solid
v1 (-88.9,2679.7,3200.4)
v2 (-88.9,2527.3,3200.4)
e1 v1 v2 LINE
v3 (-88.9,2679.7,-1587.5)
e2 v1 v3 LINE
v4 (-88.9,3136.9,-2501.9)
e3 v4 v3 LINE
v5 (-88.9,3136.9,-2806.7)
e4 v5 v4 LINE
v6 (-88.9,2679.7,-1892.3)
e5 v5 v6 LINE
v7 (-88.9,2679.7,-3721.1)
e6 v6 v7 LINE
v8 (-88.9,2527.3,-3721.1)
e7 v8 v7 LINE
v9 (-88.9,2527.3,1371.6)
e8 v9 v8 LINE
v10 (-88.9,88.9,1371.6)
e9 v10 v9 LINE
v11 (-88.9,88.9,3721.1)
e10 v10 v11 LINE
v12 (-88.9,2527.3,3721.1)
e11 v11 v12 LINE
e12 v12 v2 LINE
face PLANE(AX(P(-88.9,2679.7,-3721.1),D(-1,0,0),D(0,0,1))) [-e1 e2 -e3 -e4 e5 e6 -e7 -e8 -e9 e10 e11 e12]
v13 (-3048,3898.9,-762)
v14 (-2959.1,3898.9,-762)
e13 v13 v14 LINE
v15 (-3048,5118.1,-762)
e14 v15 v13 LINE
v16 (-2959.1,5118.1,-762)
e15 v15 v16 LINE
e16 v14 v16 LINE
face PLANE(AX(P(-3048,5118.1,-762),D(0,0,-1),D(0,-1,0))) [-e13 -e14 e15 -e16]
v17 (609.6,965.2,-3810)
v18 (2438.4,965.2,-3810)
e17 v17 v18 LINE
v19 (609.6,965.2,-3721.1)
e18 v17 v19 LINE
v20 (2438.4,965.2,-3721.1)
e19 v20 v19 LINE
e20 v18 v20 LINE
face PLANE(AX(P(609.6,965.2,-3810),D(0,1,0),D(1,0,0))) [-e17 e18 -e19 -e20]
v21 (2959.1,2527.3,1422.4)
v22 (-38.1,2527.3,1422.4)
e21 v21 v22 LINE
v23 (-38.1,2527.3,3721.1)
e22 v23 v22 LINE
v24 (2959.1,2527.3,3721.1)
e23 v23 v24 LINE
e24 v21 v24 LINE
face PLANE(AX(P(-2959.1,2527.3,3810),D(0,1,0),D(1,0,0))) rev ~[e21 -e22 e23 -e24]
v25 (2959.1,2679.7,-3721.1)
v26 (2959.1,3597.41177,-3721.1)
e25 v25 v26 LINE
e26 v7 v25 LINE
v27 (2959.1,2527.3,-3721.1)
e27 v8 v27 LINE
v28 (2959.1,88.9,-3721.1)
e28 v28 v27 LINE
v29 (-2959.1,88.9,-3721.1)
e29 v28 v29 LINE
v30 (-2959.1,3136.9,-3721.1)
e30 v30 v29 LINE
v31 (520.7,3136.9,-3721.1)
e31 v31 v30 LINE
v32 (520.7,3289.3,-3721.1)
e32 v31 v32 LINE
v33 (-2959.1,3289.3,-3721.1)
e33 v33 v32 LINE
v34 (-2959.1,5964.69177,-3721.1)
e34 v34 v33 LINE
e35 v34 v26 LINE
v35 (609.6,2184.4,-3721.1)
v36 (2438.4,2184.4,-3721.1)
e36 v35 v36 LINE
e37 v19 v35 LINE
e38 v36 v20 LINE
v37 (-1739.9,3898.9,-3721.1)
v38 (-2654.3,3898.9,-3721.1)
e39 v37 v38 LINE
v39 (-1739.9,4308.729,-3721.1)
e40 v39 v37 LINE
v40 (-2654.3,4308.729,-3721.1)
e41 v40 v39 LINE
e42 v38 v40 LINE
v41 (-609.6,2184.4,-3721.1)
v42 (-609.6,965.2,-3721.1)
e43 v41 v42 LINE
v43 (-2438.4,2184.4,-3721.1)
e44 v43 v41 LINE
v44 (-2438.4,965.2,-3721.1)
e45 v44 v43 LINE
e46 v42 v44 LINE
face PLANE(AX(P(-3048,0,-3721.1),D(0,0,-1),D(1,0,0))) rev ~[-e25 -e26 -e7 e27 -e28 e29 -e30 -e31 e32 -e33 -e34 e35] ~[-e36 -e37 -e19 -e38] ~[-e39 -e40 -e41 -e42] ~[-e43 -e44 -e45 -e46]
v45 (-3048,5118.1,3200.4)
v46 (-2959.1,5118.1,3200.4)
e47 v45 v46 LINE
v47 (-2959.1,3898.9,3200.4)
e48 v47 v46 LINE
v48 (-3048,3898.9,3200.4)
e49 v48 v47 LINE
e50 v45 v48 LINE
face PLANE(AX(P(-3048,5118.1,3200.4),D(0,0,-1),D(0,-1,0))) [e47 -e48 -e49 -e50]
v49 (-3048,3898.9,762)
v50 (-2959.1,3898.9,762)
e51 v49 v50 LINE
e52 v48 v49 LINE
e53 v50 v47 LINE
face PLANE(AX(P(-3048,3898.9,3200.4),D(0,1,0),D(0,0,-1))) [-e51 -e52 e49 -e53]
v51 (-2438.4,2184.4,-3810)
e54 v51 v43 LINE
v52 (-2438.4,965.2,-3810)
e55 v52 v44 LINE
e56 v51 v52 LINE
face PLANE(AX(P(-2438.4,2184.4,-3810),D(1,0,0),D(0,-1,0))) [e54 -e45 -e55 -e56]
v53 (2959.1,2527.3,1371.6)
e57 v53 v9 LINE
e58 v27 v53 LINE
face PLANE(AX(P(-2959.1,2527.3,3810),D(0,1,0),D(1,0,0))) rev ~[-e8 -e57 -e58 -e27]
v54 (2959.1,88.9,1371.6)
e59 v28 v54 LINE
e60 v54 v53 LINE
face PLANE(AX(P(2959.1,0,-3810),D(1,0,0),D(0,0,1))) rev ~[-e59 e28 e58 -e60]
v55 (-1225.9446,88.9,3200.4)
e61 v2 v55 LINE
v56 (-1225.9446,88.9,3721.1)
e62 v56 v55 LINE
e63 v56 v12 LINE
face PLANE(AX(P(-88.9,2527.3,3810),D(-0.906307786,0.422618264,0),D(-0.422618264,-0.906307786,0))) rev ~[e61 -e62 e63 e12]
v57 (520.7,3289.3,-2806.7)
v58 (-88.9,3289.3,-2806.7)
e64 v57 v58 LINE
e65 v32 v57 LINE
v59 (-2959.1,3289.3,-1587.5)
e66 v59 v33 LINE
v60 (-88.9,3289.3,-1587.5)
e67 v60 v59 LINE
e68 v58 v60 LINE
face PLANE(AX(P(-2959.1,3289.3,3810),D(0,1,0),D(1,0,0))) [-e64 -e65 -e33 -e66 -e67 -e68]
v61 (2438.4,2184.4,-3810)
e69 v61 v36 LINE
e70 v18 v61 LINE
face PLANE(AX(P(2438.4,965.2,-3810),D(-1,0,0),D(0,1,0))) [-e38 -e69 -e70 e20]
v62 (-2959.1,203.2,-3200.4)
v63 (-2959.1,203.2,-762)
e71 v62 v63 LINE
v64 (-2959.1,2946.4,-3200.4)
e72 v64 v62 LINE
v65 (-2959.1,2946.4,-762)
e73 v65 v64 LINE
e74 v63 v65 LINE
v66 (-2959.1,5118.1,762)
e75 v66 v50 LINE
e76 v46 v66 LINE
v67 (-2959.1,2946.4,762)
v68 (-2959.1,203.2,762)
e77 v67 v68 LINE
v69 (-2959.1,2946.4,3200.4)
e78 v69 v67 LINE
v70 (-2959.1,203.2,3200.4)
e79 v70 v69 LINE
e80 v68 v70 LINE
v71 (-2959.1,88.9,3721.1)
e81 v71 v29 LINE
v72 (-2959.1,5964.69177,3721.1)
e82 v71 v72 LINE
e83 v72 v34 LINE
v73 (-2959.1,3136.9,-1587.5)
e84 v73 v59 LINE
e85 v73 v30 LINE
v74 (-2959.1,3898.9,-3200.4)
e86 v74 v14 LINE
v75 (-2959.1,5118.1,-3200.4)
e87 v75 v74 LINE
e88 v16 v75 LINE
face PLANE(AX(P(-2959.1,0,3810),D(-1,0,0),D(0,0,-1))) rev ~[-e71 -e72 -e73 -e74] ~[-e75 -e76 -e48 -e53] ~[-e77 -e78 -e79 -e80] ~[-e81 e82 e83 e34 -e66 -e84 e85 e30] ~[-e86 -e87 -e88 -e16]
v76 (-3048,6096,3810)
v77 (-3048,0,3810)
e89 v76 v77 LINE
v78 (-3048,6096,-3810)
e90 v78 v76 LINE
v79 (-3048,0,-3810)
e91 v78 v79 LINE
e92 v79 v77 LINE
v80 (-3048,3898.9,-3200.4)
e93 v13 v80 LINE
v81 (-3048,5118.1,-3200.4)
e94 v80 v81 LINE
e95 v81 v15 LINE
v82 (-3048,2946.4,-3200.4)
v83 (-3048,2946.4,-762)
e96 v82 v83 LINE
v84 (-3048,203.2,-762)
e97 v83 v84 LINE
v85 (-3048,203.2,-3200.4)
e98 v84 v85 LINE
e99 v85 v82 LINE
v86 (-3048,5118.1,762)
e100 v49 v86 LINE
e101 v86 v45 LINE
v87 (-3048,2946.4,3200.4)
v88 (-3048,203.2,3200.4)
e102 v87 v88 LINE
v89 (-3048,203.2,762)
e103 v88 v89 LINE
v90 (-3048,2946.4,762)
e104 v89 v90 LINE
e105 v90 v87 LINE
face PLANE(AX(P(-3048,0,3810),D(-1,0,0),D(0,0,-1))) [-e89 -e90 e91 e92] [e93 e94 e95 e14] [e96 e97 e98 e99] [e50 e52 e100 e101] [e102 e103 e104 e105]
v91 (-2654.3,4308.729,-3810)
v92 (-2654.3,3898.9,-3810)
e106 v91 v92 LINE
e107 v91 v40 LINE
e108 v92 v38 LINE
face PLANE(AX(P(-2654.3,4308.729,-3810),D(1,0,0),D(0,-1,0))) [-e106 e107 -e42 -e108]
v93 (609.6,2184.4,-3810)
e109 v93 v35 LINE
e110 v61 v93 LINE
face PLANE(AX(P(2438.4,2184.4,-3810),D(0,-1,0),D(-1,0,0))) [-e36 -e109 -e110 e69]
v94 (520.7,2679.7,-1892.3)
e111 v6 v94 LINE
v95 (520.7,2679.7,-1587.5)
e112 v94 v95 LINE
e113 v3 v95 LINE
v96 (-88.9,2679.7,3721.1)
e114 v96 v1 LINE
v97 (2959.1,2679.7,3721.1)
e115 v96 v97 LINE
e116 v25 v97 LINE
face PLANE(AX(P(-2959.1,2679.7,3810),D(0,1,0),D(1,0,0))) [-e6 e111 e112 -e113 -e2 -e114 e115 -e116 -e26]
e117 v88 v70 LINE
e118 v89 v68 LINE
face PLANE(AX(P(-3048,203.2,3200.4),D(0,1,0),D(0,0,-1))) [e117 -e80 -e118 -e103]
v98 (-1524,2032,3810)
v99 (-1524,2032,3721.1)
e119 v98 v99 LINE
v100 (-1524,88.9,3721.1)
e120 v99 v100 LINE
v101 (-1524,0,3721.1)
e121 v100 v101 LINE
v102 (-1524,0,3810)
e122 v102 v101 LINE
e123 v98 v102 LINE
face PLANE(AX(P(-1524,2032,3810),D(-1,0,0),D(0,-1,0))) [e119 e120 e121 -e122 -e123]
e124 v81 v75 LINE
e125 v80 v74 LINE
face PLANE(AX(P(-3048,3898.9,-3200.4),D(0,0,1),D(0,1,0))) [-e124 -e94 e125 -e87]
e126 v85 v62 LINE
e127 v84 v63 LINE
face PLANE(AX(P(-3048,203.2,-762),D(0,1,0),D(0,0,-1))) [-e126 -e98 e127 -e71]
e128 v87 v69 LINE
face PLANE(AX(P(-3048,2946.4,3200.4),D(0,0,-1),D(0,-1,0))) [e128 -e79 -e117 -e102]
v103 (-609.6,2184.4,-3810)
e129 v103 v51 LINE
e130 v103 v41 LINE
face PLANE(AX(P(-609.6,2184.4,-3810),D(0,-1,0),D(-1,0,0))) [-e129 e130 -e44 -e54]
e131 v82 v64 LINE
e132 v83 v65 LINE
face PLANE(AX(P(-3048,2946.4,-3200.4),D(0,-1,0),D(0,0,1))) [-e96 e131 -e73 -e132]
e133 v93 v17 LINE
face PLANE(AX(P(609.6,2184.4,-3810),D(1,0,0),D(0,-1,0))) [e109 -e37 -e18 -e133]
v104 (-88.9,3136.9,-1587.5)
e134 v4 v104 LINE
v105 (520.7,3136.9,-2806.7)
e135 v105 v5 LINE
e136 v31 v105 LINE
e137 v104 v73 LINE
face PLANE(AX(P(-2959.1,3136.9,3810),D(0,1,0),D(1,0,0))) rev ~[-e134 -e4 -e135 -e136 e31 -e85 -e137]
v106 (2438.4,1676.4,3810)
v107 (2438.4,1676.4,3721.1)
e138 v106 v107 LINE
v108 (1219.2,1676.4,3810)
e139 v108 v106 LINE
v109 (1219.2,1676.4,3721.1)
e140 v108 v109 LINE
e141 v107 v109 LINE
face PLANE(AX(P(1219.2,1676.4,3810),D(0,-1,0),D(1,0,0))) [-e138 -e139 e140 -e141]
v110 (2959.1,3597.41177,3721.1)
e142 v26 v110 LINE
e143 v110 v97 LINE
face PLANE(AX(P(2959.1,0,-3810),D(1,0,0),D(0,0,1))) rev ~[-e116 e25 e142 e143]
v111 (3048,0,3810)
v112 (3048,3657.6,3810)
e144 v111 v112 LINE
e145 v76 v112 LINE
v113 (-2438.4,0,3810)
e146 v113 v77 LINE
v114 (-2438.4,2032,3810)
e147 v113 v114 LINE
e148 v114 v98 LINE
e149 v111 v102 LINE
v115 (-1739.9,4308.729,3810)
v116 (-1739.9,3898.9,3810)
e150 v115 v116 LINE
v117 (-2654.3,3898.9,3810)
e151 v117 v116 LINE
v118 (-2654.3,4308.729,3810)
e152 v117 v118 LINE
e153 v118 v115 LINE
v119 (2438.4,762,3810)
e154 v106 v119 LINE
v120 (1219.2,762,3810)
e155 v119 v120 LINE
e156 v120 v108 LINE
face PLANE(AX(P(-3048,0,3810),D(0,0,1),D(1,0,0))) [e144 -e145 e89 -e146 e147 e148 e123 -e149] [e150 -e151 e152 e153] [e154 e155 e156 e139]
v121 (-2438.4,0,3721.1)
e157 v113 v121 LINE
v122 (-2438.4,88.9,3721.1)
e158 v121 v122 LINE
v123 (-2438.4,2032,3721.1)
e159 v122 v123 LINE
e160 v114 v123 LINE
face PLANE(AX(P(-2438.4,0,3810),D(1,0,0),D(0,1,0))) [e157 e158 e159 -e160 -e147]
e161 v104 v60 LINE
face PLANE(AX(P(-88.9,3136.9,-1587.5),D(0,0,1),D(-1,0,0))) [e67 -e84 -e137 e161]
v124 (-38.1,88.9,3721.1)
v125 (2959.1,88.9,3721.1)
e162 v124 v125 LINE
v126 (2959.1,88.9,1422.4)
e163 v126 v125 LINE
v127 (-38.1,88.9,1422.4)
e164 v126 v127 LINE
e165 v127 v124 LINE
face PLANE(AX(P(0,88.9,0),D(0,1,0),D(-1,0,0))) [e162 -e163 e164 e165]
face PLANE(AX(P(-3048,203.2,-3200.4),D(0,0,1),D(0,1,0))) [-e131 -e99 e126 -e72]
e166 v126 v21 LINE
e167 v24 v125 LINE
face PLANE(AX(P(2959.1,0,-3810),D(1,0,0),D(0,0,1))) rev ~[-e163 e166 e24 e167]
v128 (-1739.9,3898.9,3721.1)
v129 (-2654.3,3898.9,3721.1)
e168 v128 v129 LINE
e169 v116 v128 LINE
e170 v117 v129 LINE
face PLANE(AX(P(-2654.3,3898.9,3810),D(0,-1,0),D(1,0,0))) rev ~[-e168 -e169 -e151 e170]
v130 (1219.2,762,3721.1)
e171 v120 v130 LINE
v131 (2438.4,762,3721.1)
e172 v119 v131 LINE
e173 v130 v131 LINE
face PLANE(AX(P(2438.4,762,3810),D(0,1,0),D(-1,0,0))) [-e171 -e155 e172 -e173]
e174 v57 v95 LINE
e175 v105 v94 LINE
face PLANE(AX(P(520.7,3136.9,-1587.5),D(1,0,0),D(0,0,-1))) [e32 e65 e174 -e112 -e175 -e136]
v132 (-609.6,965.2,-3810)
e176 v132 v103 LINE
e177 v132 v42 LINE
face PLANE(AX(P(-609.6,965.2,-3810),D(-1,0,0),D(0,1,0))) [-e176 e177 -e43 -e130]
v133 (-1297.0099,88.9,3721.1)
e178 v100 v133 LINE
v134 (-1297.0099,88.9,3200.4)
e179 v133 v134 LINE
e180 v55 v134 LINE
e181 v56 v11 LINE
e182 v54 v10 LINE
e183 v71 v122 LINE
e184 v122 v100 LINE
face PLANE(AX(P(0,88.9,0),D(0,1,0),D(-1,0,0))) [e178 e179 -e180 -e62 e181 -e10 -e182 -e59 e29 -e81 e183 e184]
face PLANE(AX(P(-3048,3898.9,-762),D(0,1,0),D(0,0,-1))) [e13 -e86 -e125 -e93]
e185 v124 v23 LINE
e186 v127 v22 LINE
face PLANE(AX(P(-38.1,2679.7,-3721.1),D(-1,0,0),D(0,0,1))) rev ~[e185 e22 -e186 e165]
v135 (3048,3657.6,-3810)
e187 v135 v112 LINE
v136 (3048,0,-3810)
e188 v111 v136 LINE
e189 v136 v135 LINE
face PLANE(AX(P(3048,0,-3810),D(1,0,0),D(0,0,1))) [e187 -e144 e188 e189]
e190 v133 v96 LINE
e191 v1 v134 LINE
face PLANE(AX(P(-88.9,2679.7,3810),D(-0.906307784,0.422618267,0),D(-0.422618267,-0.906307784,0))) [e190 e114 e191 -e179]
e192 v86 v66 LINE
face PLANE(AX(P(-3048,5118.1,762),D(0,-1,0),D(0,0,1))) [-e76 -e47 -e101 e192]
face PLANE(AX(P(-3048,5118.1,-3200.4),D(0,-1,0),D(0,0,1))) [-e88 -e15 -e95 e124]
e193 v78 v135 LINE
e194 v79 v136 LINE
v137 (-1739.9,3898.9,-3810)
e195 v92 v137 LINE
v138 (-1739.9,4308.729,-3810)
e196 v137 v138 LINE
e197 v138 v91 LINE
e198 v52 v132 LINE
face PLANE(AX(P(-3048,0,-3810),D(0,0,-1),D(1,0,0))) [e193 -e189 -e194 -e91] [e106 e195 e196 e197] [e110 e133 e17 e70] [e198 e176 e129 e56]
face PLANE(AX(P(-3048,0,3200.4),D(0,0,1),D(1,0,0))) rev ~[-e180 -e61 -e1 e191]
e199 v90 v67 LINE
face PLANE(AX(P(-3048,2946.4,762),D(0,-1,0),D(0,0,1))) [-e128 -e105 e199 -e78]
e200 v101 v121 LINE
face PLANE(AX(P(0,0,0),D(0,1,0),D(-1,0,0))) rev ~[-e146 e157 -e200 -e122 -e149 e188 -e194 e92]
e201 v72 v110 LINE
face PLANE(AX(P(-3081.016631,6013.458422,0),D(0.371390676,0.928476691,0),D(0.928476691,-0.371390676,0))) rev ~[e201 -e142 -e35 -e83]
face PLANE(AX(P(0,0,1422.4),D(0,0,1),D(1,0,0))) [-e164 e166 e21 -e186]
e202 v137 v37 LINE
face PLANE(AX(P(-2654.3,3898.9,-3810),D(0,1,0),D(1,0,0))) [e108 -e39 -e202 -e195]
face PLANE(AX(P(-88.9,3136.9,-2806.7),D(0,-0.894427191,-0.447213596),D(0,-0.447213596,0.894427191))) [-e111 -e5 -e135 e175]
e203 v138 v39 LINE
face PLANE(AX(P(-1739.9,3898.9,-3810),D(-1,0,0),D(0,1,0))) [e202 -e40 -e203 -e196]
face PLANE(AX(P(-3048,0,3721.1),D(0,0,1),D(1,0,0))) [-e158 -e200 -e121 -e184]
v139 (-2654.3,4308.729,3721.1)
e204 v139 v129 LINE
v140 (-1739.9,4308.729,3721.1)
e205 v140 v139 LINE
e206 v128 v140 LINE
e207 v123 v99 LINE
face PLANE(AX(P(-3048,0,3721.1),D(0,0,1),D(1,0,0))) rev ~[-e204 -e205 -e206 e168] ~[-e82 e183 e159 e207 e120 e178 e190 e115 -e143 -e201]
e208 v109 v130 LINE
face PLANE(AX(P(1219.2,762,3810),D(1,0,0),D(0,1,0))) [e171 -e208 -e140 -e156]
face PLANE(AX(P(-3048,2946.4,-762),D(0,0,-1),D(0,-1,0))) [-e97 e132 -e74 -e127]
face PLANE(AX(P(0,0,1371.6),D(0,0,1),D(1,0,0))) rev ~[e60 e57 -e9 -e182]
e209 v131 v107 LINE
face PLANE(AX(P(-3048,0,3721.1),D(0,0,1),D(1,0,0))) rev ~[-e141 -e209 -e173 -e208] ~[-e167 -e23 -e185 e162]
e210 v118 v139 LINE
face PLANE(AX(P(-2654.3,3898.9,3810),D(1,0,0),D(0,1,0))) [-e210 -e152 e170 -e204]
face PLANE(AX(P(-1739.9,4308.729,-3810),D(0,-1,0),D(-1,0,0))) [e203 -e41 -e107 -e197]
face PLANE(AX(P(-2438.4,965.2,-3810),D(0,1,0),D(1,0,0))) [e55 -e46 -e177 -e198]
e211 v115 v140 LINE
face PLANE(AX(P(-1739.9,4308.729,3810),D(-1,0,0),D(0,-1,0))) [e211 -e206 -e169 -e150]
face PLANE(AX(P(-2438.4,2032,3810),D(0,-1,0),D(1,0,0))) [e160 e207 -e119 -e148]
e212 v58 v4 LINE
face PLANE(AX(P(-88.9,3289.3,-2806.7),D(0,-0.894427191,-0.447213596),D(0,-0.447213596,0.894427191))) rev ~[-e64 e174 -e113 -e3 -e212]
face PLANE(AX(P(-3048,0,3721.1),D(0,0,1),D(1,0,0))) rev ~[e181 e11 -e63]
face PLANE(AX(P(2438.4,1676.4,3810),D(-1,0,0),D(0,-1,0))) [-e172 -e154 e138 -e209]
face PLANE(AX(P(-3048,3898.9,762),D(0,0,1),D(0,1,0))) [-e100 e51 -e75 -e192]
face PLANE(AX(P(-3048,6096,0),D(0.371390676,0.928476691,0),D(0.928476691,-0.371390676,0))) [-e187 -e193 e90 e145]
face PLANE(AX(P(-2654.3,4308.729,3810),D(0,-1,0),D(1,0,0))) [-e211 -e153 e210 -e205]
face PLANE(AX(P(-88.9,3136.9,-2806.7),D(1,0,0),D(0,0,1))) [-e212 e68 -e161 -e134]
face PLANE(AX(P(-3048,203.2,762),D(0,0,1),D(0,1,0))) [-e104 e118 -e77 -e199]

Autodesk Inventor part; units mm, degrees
ref_plane "YZ Plane" through (0, 0, 0) normal (1, 0, 0) x (0, 1, 0)
sketch "Sketch1" plane through (0, 0, 0) normal (0, 1, 0) x (-1, 0, 0)
  line L0 (-3048, 3810) -> (3048, 3810)
  line L1 (3048, 3810) -> (3048, -3810)
  line L2 (3048, -3810) -> (-3048, -3810)
  line L3 (-3048, -3810) -> (-3048, 3810)
  line L4 (-3048, 3810) -> (3048, -3810) construction
  line L5 (3048, 3810) -> (-3048, -3810) construction
  point P0 (0, 0)
  dimension "d0" = 7620
  dimension "d1" = 6096
extrude "main body" add sketch "Sketch1" along normal blind 3657.6
sketch "Sketch3" plane through (0, 0, 0) normal (0, 0, 1) x (1, 0, 0)
  line L0 (-3048, 3657.6) -> (-3048, 6096)
  line L1 (-3048, 6096) -> (3048, 3657.6)
  line L2 (3048, 3657.6) -> (-3048, 3657.6)
  point P0 (0, 0)
  dimension "d4" = 2438.4
extrude "triangle" add sketch "Sketch3" along normal mid plane 7620
shell "Shell1" thickness 88.9 removed faces 1 at (-1016, 3251.2, 3810)
ref_plane "Work Plane1" through (-2959.1, 2527.3, 3810) normal (0, 1, 0) x (1, 0, 0)
sketch "Sketch6" plane through (-2959.1, 2527.3, 3810) normal (0, 1, 0) x (1, 0, 0)
  line L0 (5918.2, 0) -> (2870.2, 0)
  line L1 (2870.2, 0) -> (2870.2, 7531.1)
  line L2 (2870.2, 7531.1) -> (5918.2, 7531.1)
  line L3 (5918.2, 7531.1) -> (5918.2, 0)
  point P0 (2959.1, 3810)
  dimension "d12" = 3048
extrude "second floor" add sketch "Sketch6" along normal blind 152.4
ref_plane "Work Plane3" through (-2959.1, 3136.9, 3810) normal (0, 1, 0) x (1, 0, 0)
sketch "Sketch8" plane through (-2959.1, 3136.9, 3810) normal (0, 1, 0) x (1, 0, 0)
  line L0 (0, 7531.1) -> (2870.2, 7531.1)
  line L1 (2870.2, 7531.1) -> (2870.2, 5397.5)
  line L2 (2870.2, 5397.5) -> (0, 5397.5)
  line L3 (0, 5397.5) -> (0, 7531.1)
  line L4 (2870.2, 7531.1) -> (2870.2, 0) projected
  line L5 (0, 0) -> (0, 7531.1) projected
  line L6 (2870.2, 7531.1) -> (3479.8, 7531.1)
  line L7 (3479.8, 7531.1) -> (3479.8, 6616.7)
  line L8 (3479.8, 6616.7) -> (2870.2, 6616.7)
  line L9 (2870.2, 6616.7) -> (2870.2, 7531.1)
  point P0 (2959.1, 3810)
  dimension "d17" = 0
  dimension "d19" = 0
  dimension "d20" = 2133.6
  dimension "d23" = 0
  dimension "d39" = 609.6
  dimension "d40" = 914.4
extrude "bedroom" add sketch "Sketch8" along normal blind 152.4
sketch "Sketch16" plane through (-88.9, 3136.9, -1587.5) normal (1, 0, 0) x (0, 0, -1)
  line L0 (1219.2, 0) -> (304.8, -457.2)
  line L1 (1219.2, 0) -> (1219.2, 152.4) projected
  line L2 (2133.6, -457.2) -> (-5397.5, -457.2) projected
  line L3 (0, 0) -> (0, 152.4) projected
  line L4 (1219.2, 152.4) -> (0, -457.2)
  line L5 (2133.6, -457.2) -> (-5397.5, -457.2) projected
  line L6 (304.8, -457.2) -> (0, -457.2)
  line L7 (1219.2, 152.4) -> (1219.2, 0)
  point P0 (-1587.5, -3136.9)
  point P1 (-1803.4, -558.8)
  point P2 (-5397.5, -457.2)
  dimension "d42" = 0
extrude "upper stairs" add sketch "Sketch16" along normal blind 609.6
sketch "Sketch17" plane through (-3048, 0, 3810) normal (0, 0, 1) x (1, 0, 0)
  line L0 (2959.1, 2527.3) -> (1822.0554, 88.9)
  line L1 (6007.1, 88.9) -> (88.9, 88.9) projected
  line L2 (2959.1, 2679.7) -> (1750.9901, 88.9)
  line L3 (6007.1, 2527.3) -> (2959.1, 2527.3) projected
  line L4 (3022.6, 2527.3) -> (3022.6, 25.4) projected
  line L5 (2959.1, 2679.7) -> (2959.1, 2527.3)
  line L6 (1750.9901, 88.9) -> (1822.0554, 88.9)
  line L7 (2959.1, 2679.7) -> (6007.1, 2679.7) projected
  line L8 (2959.1, 2527.3) -> (2959.1, 2679.7) projected
  line L9 (2959.1, 2679.7) -> (2959.1, 2527.3)
  point P0 (3048, 0)
  point P1 (88.9, 88.9)
  point P2 (3022.6, 25.4)
  dimension "d46" = 115
extrude "main stairs" add sketch "Sketch17" against normal blind 609.6 contours L0 L1 L2 L5
sketch "Sketch18" plane through (2959.1, 88.9, -3721.1) normal (-1, 0, 0) x (0, 0, 1)
  point P0 (3721.1, -88.9)
ref_plane "Work Plane4" through (0, 0, 1371.6) normal (0, 0, 1) x (1, 0, 0)
sketch "Sketch20" plane through (0, 0, 1371.6) normal (0, 0, 1) x (1, 0, 0)
  line L0 (2959.1, 2527.3) -> (-88.9, 2527.3) projected
  line L1 (2959.1, 88.9) -> (2959.1, 2527.3) projected
  line L2 (-88.9, 2527.3) -> (2959.1, 2527.3)
  line L3 (2959.1, 2527.3) -> (2959.1, 88.9)
  line L4 (2959.1, 88.9) -> (-88.9, 88.9)
  line L5 (-88.9, 88.9) -> (-88.9, 2527.3)
  point P0 (0, 0)
extrude "room wall 1" add sketch "Sketch20" along normal blind 50.8
sketch "Sketch21" plane through (-88.9, 2679.7, -3721.1) normal (-1, 0, 0) x (0, 0, 1)
  line L0 (7531.1, -152.4) -> (5143.5, -152.4) projected
  line L1 (5143.5, -2590.8) -> (7531.1, -2590.8) projected
  line L2 (5143.5, -152.4) -> (7531.1, -152.4)
  line L3 (7531.1, -152.4) -> (7531.1, -2590.8)
  line L4 (7531.1, -2590.8) -> (5143.5, -2590.8)
  line L5 (5143.5, -2590.8) -> (5143.5, -152.4)
  line L6 (6921.5, -2590.8) -> (6921.5, 0) projected
  line L7 (5143.5, -152.4) -> (5143.5, -2590.8) projected
  point P0 (3721.1, -2679.7)
extrude "room wall 2" add sketch "Sketch21" against normal blind 50.8
sketch "Sketch23" plane through (-3048, 0, 3810) normal (0, 0, 1) x (1, 0, 0)
  line L0 (0, 0) -> (0, 6096) projected
  line L1 (6096, 0) -> (6096, 3657.6) projected
  line L2 (0, 6096) -> (6096, 3657.6)
  line L3 (6096, 3657.6) -> (6096, 0)
  line L4 (6096, 0) -> (0, 0) projected
  line L5 (6096, 0) -> (0, 0)
  line L6 (6096, 3657.6) -> (0, 6096) projected
  line L7 (0, 0) -> (0, 6096)
  line L8 (1750.9901, 88.9) -> (88.9, 88.9) projected
  point P0 (3048, 0)
  point P1 (88.9, 5964.6918)
  point P2 (6007.1, 3597.4118)
  point P3 (6007.1, 88.9)
extrude "outer wall" [suppressed]
sketch "Sketch24" plane through (-3048, 0, -3810) normal (-1, 0, 0) x (0, 0, 1)
  line L0 (609.6, 2946.4) -> (3048, 2946.4)
  line L1 (3048, 2946.4) -> (3048, 203.2)
  line L2 (3048, 203.2) -> (609.6, 203.2)
  line L3 (609.6, 203.2) -> (609.6, 2946.4)
  line L4 (7620, 0) -> (0, 0) projected
  line L5 (0, 0) -> (0, 6096) projected
  line L6 (7620, 0) -> (7620, 6096) projected
  line L7 (4572, 2946.4) -> (7010.4, 2946.4)
  line L8 (7010.4, 2946.4) -> (7010.4, 203.2)
  line L9 (7010.4, 203.2) -> (4572, 203.2)
  line L10 (4572, 203.2) -> (4572, 2946.4)
  line L11 (2222.5, 3289.3) -> (88.9, 3289.3) projected
  point P0 (3810, 0)
  point P1 (3810, 0)
  dimension "d62" = 203.2
  dimension "d63" = 2438.4
  dimension "d64" = 609.6
  dimension "d65" = 2743.2
  dimension "d73" = 203.2
  dimension "d74" = 609.6
sketch "Sketch26" plane through (3048, 0, -3810) normal (0, 0, -1) x (-1, 0, 0)
  line L0 (4787.9, 4308.729) -> (5702.3, 4308.729)
  line L1 (5702.3, 4308.729) -> (5702.3, 3898.9)
  line L2 (5702.3, 3898.9) -> (4787.9, 3898.9)
  line L3 (4787.9, 3898.9) -> (4787.9, 4308.729)
  line L4 (3136.9, 3136.9) -> (6007.1, 3136.9) projected
  line L5 (6007.1, 3289.3) -> (6007.1, 5964.6918) projected
  line L6 (6007.1, 3289.3) -> (2527.3, 3289.3) projected
  point P0 (3048, 0)
  dimension "d78" = 914.4
  dimension "d79" = 409.829
  dimension "d81" = 304.8
  dimension "d95" = 609.6
extrude "side window 1" cut sketch "Sketch26" against normal up to next
sketch "Sketch30" plane through (-3048, 0, -3810) normal (-1, 0, 0) x (0, 0, 1)
  line L0 (609.6, 5118.1) -> (3048, 5118.1)
  line L1 (3048, 5118.1) -> (3048, 3898.9)
  line L2 (3048, 3898.9) -> (609.6, 3898.9)
  line L3 (609.6, 3898.9) -> (609.6, 5118.1)
  line L4 (0, 4308.729) -> (0, 3898.9) projected
  line L5 (2222.5, 3289.3) -> (88.9, 3289.3) projected
  line L6 (0, 0) -> (0, 6096) projected
  line L7 (7620, 0) -> (7620, 6096) projected
  line L8 (4572, 3898.9) -> (4572, 5118.1)
  line L9 (4572, 5118.1) -> (7010.4, 5118.1)
  line L10 (7010.4, 5118.1) -> (7010.4, 3898.9)
  line L11 (7010.4, 3898.9) -> (4572, 3898.9)
  point P0 (3810, 0)
  dimension "d105" = 2438.4
  dimension "d106" = 609.6
  dimension "d107" = 609.6
  dimension "d118" = 1219.2
  dimension "d121" = 3962.4
sketch "Sketch28" plane through (-3048, 0, 3810) normal (0, 0, 1) x (1, 0, 0)
  line L0 (0, 0) -> (0, 6096) projected
  line L1 (0, 6096) -> (6096, 3657.6) projected
  line L2 (0, 6096) -> (6096, 3657.6)
  line L3 (6096, 0) -> (0, 0) projected
  line L4 (6096, 3657.6) -> (6096, 0)
  line L5 (6096, 0) -> (0, 0)
  line L6 (0, 0) -> (0, 6096)
  point P0 (3048, 0)
extrude "my WALL" add sketch "Sketch28" against normal blind 88.9
sketch "Sketch29" plane through (-3048, 0, 3810) normal (0, 0, 1) x (1, 0, 0)
  line L0 (393.7, 3898.9) -> (393.7, 4308.729) projected
  line L1 (393.7, 3898.9) -> (1308.1, 3898.9) projected
  line L2 (393.7, 4308.729) -> (1308.1, 4308.729)
  line L3 (1308.1, 4308.729) -> (1308.1, 3898.9)
  line L4 (1308.1, 3898.9) -> (393.7, 3898.9)
  line L5 (393.7, 3898.9) -> (393.7, 4308.729)
  point P0 (3048, 0)
extrude "other side window 1" cut sketch "Sketch29" against normal up to next
extrude "front bottom windows" cut sketch "Sketch24" against normal up to next
extrude "front top windows" cut sketch "Sketch30" against normal up to next
sketch "Sketch31" plane through (3048, 0, -3810) normal (0, 0, -1) x (-1, 0, 0)
  line L0 (3657.6, 2184.4) -> (5486.4, 2184.4)
  line L1 (5486.4, 2184.4) -> (5486.4, 965.2)
  line L2 (5486.4, 965.2) -> (3657.6, 965.2)
  line L3 (3657.6, 965.2) -> (3657.6, 2184.4)
  line L4 (6096, 0) -> (0, 0) projected
  line L5 (6096, 0) -> (6096, 6096) projected
  line L6 (609.6, 2184.4) -> (2438.4, 2184.4)
  line L7 (2438.4, 2184.4) -> (2438.4, 965.2)
  line L8 (2438.4, 965.2) -> (609.6, 965.2)
  line L9 (609.6, 965.2) -> (609.6, 2184.4)
  line L10 (0, 0) -> (0, 3657.6) projected
  point P0 (3048, 0)
  dimension "d132" = 1219.2
  dimension "d133" = 1828.8
  dimension "d134" = 965.2
  dimension "d135" = 609.6
  dimension "d136" = 609.6
  dimension "d137" = 965.2
extrude "Extrusion27" cut sketch "Sketch31" against normal up to next
sketch "Sketch32" plane through (-3048, 0, 3810) normal (0, 0, 1) x (1, 0, 0)
  line L0 (609.6, 2032) -> (1524, 2032)
  line L1 (1524, 2032) -> (1524, 0)
  line L2 (1524, 0) -> (609.6, 0)
  line L3 (609.6, 0) -> (609.6, 2032)
  line L4 (6096, 0) -> (0, 0) projected
  line L5 (0, 0) -> (0, 6096) projected
  point P0 (3048, 0)
  point P1 (3048, 0)
  dimension "d140" = 2032
  dimension "d141" = 914.4
  dimension "d142" = 609.6
extrude "Extrusion28" cut sketch "Sketch32" against normal blind 88.9
sketch "Sketch33" plane through (-3048, 0, 3810) normal (0, 0, 1) x (1, 0, 0)
  line L0 (4267.2, 1676.4) -> (5486.4, 1676.4)
  line L1 (5486.4, 1676.4) -> (5486.4, 762)
  line L2 (5486.4, 762) -> (4267.2, 762)
  line L3 (4267.2, 762) -> (4267.2, 1676.4)
  line L4 (6096, 0) -> (6096, 3657.6) projected
  line L5 (6096, 0) -> (1524, 0) projected
  point P0 (3048, 0)
  dimension "d145" = 1219.2
  dimension "d146" = 914.4
  dimension "d147" = 609.6
  dimension "d148" = 762
extrude "Extrusion29" cut sketch "Sketch33" against normal up to next
equation "\"d73\" = d62"
equation "\"d137\" = d134"
properties part number "out"
